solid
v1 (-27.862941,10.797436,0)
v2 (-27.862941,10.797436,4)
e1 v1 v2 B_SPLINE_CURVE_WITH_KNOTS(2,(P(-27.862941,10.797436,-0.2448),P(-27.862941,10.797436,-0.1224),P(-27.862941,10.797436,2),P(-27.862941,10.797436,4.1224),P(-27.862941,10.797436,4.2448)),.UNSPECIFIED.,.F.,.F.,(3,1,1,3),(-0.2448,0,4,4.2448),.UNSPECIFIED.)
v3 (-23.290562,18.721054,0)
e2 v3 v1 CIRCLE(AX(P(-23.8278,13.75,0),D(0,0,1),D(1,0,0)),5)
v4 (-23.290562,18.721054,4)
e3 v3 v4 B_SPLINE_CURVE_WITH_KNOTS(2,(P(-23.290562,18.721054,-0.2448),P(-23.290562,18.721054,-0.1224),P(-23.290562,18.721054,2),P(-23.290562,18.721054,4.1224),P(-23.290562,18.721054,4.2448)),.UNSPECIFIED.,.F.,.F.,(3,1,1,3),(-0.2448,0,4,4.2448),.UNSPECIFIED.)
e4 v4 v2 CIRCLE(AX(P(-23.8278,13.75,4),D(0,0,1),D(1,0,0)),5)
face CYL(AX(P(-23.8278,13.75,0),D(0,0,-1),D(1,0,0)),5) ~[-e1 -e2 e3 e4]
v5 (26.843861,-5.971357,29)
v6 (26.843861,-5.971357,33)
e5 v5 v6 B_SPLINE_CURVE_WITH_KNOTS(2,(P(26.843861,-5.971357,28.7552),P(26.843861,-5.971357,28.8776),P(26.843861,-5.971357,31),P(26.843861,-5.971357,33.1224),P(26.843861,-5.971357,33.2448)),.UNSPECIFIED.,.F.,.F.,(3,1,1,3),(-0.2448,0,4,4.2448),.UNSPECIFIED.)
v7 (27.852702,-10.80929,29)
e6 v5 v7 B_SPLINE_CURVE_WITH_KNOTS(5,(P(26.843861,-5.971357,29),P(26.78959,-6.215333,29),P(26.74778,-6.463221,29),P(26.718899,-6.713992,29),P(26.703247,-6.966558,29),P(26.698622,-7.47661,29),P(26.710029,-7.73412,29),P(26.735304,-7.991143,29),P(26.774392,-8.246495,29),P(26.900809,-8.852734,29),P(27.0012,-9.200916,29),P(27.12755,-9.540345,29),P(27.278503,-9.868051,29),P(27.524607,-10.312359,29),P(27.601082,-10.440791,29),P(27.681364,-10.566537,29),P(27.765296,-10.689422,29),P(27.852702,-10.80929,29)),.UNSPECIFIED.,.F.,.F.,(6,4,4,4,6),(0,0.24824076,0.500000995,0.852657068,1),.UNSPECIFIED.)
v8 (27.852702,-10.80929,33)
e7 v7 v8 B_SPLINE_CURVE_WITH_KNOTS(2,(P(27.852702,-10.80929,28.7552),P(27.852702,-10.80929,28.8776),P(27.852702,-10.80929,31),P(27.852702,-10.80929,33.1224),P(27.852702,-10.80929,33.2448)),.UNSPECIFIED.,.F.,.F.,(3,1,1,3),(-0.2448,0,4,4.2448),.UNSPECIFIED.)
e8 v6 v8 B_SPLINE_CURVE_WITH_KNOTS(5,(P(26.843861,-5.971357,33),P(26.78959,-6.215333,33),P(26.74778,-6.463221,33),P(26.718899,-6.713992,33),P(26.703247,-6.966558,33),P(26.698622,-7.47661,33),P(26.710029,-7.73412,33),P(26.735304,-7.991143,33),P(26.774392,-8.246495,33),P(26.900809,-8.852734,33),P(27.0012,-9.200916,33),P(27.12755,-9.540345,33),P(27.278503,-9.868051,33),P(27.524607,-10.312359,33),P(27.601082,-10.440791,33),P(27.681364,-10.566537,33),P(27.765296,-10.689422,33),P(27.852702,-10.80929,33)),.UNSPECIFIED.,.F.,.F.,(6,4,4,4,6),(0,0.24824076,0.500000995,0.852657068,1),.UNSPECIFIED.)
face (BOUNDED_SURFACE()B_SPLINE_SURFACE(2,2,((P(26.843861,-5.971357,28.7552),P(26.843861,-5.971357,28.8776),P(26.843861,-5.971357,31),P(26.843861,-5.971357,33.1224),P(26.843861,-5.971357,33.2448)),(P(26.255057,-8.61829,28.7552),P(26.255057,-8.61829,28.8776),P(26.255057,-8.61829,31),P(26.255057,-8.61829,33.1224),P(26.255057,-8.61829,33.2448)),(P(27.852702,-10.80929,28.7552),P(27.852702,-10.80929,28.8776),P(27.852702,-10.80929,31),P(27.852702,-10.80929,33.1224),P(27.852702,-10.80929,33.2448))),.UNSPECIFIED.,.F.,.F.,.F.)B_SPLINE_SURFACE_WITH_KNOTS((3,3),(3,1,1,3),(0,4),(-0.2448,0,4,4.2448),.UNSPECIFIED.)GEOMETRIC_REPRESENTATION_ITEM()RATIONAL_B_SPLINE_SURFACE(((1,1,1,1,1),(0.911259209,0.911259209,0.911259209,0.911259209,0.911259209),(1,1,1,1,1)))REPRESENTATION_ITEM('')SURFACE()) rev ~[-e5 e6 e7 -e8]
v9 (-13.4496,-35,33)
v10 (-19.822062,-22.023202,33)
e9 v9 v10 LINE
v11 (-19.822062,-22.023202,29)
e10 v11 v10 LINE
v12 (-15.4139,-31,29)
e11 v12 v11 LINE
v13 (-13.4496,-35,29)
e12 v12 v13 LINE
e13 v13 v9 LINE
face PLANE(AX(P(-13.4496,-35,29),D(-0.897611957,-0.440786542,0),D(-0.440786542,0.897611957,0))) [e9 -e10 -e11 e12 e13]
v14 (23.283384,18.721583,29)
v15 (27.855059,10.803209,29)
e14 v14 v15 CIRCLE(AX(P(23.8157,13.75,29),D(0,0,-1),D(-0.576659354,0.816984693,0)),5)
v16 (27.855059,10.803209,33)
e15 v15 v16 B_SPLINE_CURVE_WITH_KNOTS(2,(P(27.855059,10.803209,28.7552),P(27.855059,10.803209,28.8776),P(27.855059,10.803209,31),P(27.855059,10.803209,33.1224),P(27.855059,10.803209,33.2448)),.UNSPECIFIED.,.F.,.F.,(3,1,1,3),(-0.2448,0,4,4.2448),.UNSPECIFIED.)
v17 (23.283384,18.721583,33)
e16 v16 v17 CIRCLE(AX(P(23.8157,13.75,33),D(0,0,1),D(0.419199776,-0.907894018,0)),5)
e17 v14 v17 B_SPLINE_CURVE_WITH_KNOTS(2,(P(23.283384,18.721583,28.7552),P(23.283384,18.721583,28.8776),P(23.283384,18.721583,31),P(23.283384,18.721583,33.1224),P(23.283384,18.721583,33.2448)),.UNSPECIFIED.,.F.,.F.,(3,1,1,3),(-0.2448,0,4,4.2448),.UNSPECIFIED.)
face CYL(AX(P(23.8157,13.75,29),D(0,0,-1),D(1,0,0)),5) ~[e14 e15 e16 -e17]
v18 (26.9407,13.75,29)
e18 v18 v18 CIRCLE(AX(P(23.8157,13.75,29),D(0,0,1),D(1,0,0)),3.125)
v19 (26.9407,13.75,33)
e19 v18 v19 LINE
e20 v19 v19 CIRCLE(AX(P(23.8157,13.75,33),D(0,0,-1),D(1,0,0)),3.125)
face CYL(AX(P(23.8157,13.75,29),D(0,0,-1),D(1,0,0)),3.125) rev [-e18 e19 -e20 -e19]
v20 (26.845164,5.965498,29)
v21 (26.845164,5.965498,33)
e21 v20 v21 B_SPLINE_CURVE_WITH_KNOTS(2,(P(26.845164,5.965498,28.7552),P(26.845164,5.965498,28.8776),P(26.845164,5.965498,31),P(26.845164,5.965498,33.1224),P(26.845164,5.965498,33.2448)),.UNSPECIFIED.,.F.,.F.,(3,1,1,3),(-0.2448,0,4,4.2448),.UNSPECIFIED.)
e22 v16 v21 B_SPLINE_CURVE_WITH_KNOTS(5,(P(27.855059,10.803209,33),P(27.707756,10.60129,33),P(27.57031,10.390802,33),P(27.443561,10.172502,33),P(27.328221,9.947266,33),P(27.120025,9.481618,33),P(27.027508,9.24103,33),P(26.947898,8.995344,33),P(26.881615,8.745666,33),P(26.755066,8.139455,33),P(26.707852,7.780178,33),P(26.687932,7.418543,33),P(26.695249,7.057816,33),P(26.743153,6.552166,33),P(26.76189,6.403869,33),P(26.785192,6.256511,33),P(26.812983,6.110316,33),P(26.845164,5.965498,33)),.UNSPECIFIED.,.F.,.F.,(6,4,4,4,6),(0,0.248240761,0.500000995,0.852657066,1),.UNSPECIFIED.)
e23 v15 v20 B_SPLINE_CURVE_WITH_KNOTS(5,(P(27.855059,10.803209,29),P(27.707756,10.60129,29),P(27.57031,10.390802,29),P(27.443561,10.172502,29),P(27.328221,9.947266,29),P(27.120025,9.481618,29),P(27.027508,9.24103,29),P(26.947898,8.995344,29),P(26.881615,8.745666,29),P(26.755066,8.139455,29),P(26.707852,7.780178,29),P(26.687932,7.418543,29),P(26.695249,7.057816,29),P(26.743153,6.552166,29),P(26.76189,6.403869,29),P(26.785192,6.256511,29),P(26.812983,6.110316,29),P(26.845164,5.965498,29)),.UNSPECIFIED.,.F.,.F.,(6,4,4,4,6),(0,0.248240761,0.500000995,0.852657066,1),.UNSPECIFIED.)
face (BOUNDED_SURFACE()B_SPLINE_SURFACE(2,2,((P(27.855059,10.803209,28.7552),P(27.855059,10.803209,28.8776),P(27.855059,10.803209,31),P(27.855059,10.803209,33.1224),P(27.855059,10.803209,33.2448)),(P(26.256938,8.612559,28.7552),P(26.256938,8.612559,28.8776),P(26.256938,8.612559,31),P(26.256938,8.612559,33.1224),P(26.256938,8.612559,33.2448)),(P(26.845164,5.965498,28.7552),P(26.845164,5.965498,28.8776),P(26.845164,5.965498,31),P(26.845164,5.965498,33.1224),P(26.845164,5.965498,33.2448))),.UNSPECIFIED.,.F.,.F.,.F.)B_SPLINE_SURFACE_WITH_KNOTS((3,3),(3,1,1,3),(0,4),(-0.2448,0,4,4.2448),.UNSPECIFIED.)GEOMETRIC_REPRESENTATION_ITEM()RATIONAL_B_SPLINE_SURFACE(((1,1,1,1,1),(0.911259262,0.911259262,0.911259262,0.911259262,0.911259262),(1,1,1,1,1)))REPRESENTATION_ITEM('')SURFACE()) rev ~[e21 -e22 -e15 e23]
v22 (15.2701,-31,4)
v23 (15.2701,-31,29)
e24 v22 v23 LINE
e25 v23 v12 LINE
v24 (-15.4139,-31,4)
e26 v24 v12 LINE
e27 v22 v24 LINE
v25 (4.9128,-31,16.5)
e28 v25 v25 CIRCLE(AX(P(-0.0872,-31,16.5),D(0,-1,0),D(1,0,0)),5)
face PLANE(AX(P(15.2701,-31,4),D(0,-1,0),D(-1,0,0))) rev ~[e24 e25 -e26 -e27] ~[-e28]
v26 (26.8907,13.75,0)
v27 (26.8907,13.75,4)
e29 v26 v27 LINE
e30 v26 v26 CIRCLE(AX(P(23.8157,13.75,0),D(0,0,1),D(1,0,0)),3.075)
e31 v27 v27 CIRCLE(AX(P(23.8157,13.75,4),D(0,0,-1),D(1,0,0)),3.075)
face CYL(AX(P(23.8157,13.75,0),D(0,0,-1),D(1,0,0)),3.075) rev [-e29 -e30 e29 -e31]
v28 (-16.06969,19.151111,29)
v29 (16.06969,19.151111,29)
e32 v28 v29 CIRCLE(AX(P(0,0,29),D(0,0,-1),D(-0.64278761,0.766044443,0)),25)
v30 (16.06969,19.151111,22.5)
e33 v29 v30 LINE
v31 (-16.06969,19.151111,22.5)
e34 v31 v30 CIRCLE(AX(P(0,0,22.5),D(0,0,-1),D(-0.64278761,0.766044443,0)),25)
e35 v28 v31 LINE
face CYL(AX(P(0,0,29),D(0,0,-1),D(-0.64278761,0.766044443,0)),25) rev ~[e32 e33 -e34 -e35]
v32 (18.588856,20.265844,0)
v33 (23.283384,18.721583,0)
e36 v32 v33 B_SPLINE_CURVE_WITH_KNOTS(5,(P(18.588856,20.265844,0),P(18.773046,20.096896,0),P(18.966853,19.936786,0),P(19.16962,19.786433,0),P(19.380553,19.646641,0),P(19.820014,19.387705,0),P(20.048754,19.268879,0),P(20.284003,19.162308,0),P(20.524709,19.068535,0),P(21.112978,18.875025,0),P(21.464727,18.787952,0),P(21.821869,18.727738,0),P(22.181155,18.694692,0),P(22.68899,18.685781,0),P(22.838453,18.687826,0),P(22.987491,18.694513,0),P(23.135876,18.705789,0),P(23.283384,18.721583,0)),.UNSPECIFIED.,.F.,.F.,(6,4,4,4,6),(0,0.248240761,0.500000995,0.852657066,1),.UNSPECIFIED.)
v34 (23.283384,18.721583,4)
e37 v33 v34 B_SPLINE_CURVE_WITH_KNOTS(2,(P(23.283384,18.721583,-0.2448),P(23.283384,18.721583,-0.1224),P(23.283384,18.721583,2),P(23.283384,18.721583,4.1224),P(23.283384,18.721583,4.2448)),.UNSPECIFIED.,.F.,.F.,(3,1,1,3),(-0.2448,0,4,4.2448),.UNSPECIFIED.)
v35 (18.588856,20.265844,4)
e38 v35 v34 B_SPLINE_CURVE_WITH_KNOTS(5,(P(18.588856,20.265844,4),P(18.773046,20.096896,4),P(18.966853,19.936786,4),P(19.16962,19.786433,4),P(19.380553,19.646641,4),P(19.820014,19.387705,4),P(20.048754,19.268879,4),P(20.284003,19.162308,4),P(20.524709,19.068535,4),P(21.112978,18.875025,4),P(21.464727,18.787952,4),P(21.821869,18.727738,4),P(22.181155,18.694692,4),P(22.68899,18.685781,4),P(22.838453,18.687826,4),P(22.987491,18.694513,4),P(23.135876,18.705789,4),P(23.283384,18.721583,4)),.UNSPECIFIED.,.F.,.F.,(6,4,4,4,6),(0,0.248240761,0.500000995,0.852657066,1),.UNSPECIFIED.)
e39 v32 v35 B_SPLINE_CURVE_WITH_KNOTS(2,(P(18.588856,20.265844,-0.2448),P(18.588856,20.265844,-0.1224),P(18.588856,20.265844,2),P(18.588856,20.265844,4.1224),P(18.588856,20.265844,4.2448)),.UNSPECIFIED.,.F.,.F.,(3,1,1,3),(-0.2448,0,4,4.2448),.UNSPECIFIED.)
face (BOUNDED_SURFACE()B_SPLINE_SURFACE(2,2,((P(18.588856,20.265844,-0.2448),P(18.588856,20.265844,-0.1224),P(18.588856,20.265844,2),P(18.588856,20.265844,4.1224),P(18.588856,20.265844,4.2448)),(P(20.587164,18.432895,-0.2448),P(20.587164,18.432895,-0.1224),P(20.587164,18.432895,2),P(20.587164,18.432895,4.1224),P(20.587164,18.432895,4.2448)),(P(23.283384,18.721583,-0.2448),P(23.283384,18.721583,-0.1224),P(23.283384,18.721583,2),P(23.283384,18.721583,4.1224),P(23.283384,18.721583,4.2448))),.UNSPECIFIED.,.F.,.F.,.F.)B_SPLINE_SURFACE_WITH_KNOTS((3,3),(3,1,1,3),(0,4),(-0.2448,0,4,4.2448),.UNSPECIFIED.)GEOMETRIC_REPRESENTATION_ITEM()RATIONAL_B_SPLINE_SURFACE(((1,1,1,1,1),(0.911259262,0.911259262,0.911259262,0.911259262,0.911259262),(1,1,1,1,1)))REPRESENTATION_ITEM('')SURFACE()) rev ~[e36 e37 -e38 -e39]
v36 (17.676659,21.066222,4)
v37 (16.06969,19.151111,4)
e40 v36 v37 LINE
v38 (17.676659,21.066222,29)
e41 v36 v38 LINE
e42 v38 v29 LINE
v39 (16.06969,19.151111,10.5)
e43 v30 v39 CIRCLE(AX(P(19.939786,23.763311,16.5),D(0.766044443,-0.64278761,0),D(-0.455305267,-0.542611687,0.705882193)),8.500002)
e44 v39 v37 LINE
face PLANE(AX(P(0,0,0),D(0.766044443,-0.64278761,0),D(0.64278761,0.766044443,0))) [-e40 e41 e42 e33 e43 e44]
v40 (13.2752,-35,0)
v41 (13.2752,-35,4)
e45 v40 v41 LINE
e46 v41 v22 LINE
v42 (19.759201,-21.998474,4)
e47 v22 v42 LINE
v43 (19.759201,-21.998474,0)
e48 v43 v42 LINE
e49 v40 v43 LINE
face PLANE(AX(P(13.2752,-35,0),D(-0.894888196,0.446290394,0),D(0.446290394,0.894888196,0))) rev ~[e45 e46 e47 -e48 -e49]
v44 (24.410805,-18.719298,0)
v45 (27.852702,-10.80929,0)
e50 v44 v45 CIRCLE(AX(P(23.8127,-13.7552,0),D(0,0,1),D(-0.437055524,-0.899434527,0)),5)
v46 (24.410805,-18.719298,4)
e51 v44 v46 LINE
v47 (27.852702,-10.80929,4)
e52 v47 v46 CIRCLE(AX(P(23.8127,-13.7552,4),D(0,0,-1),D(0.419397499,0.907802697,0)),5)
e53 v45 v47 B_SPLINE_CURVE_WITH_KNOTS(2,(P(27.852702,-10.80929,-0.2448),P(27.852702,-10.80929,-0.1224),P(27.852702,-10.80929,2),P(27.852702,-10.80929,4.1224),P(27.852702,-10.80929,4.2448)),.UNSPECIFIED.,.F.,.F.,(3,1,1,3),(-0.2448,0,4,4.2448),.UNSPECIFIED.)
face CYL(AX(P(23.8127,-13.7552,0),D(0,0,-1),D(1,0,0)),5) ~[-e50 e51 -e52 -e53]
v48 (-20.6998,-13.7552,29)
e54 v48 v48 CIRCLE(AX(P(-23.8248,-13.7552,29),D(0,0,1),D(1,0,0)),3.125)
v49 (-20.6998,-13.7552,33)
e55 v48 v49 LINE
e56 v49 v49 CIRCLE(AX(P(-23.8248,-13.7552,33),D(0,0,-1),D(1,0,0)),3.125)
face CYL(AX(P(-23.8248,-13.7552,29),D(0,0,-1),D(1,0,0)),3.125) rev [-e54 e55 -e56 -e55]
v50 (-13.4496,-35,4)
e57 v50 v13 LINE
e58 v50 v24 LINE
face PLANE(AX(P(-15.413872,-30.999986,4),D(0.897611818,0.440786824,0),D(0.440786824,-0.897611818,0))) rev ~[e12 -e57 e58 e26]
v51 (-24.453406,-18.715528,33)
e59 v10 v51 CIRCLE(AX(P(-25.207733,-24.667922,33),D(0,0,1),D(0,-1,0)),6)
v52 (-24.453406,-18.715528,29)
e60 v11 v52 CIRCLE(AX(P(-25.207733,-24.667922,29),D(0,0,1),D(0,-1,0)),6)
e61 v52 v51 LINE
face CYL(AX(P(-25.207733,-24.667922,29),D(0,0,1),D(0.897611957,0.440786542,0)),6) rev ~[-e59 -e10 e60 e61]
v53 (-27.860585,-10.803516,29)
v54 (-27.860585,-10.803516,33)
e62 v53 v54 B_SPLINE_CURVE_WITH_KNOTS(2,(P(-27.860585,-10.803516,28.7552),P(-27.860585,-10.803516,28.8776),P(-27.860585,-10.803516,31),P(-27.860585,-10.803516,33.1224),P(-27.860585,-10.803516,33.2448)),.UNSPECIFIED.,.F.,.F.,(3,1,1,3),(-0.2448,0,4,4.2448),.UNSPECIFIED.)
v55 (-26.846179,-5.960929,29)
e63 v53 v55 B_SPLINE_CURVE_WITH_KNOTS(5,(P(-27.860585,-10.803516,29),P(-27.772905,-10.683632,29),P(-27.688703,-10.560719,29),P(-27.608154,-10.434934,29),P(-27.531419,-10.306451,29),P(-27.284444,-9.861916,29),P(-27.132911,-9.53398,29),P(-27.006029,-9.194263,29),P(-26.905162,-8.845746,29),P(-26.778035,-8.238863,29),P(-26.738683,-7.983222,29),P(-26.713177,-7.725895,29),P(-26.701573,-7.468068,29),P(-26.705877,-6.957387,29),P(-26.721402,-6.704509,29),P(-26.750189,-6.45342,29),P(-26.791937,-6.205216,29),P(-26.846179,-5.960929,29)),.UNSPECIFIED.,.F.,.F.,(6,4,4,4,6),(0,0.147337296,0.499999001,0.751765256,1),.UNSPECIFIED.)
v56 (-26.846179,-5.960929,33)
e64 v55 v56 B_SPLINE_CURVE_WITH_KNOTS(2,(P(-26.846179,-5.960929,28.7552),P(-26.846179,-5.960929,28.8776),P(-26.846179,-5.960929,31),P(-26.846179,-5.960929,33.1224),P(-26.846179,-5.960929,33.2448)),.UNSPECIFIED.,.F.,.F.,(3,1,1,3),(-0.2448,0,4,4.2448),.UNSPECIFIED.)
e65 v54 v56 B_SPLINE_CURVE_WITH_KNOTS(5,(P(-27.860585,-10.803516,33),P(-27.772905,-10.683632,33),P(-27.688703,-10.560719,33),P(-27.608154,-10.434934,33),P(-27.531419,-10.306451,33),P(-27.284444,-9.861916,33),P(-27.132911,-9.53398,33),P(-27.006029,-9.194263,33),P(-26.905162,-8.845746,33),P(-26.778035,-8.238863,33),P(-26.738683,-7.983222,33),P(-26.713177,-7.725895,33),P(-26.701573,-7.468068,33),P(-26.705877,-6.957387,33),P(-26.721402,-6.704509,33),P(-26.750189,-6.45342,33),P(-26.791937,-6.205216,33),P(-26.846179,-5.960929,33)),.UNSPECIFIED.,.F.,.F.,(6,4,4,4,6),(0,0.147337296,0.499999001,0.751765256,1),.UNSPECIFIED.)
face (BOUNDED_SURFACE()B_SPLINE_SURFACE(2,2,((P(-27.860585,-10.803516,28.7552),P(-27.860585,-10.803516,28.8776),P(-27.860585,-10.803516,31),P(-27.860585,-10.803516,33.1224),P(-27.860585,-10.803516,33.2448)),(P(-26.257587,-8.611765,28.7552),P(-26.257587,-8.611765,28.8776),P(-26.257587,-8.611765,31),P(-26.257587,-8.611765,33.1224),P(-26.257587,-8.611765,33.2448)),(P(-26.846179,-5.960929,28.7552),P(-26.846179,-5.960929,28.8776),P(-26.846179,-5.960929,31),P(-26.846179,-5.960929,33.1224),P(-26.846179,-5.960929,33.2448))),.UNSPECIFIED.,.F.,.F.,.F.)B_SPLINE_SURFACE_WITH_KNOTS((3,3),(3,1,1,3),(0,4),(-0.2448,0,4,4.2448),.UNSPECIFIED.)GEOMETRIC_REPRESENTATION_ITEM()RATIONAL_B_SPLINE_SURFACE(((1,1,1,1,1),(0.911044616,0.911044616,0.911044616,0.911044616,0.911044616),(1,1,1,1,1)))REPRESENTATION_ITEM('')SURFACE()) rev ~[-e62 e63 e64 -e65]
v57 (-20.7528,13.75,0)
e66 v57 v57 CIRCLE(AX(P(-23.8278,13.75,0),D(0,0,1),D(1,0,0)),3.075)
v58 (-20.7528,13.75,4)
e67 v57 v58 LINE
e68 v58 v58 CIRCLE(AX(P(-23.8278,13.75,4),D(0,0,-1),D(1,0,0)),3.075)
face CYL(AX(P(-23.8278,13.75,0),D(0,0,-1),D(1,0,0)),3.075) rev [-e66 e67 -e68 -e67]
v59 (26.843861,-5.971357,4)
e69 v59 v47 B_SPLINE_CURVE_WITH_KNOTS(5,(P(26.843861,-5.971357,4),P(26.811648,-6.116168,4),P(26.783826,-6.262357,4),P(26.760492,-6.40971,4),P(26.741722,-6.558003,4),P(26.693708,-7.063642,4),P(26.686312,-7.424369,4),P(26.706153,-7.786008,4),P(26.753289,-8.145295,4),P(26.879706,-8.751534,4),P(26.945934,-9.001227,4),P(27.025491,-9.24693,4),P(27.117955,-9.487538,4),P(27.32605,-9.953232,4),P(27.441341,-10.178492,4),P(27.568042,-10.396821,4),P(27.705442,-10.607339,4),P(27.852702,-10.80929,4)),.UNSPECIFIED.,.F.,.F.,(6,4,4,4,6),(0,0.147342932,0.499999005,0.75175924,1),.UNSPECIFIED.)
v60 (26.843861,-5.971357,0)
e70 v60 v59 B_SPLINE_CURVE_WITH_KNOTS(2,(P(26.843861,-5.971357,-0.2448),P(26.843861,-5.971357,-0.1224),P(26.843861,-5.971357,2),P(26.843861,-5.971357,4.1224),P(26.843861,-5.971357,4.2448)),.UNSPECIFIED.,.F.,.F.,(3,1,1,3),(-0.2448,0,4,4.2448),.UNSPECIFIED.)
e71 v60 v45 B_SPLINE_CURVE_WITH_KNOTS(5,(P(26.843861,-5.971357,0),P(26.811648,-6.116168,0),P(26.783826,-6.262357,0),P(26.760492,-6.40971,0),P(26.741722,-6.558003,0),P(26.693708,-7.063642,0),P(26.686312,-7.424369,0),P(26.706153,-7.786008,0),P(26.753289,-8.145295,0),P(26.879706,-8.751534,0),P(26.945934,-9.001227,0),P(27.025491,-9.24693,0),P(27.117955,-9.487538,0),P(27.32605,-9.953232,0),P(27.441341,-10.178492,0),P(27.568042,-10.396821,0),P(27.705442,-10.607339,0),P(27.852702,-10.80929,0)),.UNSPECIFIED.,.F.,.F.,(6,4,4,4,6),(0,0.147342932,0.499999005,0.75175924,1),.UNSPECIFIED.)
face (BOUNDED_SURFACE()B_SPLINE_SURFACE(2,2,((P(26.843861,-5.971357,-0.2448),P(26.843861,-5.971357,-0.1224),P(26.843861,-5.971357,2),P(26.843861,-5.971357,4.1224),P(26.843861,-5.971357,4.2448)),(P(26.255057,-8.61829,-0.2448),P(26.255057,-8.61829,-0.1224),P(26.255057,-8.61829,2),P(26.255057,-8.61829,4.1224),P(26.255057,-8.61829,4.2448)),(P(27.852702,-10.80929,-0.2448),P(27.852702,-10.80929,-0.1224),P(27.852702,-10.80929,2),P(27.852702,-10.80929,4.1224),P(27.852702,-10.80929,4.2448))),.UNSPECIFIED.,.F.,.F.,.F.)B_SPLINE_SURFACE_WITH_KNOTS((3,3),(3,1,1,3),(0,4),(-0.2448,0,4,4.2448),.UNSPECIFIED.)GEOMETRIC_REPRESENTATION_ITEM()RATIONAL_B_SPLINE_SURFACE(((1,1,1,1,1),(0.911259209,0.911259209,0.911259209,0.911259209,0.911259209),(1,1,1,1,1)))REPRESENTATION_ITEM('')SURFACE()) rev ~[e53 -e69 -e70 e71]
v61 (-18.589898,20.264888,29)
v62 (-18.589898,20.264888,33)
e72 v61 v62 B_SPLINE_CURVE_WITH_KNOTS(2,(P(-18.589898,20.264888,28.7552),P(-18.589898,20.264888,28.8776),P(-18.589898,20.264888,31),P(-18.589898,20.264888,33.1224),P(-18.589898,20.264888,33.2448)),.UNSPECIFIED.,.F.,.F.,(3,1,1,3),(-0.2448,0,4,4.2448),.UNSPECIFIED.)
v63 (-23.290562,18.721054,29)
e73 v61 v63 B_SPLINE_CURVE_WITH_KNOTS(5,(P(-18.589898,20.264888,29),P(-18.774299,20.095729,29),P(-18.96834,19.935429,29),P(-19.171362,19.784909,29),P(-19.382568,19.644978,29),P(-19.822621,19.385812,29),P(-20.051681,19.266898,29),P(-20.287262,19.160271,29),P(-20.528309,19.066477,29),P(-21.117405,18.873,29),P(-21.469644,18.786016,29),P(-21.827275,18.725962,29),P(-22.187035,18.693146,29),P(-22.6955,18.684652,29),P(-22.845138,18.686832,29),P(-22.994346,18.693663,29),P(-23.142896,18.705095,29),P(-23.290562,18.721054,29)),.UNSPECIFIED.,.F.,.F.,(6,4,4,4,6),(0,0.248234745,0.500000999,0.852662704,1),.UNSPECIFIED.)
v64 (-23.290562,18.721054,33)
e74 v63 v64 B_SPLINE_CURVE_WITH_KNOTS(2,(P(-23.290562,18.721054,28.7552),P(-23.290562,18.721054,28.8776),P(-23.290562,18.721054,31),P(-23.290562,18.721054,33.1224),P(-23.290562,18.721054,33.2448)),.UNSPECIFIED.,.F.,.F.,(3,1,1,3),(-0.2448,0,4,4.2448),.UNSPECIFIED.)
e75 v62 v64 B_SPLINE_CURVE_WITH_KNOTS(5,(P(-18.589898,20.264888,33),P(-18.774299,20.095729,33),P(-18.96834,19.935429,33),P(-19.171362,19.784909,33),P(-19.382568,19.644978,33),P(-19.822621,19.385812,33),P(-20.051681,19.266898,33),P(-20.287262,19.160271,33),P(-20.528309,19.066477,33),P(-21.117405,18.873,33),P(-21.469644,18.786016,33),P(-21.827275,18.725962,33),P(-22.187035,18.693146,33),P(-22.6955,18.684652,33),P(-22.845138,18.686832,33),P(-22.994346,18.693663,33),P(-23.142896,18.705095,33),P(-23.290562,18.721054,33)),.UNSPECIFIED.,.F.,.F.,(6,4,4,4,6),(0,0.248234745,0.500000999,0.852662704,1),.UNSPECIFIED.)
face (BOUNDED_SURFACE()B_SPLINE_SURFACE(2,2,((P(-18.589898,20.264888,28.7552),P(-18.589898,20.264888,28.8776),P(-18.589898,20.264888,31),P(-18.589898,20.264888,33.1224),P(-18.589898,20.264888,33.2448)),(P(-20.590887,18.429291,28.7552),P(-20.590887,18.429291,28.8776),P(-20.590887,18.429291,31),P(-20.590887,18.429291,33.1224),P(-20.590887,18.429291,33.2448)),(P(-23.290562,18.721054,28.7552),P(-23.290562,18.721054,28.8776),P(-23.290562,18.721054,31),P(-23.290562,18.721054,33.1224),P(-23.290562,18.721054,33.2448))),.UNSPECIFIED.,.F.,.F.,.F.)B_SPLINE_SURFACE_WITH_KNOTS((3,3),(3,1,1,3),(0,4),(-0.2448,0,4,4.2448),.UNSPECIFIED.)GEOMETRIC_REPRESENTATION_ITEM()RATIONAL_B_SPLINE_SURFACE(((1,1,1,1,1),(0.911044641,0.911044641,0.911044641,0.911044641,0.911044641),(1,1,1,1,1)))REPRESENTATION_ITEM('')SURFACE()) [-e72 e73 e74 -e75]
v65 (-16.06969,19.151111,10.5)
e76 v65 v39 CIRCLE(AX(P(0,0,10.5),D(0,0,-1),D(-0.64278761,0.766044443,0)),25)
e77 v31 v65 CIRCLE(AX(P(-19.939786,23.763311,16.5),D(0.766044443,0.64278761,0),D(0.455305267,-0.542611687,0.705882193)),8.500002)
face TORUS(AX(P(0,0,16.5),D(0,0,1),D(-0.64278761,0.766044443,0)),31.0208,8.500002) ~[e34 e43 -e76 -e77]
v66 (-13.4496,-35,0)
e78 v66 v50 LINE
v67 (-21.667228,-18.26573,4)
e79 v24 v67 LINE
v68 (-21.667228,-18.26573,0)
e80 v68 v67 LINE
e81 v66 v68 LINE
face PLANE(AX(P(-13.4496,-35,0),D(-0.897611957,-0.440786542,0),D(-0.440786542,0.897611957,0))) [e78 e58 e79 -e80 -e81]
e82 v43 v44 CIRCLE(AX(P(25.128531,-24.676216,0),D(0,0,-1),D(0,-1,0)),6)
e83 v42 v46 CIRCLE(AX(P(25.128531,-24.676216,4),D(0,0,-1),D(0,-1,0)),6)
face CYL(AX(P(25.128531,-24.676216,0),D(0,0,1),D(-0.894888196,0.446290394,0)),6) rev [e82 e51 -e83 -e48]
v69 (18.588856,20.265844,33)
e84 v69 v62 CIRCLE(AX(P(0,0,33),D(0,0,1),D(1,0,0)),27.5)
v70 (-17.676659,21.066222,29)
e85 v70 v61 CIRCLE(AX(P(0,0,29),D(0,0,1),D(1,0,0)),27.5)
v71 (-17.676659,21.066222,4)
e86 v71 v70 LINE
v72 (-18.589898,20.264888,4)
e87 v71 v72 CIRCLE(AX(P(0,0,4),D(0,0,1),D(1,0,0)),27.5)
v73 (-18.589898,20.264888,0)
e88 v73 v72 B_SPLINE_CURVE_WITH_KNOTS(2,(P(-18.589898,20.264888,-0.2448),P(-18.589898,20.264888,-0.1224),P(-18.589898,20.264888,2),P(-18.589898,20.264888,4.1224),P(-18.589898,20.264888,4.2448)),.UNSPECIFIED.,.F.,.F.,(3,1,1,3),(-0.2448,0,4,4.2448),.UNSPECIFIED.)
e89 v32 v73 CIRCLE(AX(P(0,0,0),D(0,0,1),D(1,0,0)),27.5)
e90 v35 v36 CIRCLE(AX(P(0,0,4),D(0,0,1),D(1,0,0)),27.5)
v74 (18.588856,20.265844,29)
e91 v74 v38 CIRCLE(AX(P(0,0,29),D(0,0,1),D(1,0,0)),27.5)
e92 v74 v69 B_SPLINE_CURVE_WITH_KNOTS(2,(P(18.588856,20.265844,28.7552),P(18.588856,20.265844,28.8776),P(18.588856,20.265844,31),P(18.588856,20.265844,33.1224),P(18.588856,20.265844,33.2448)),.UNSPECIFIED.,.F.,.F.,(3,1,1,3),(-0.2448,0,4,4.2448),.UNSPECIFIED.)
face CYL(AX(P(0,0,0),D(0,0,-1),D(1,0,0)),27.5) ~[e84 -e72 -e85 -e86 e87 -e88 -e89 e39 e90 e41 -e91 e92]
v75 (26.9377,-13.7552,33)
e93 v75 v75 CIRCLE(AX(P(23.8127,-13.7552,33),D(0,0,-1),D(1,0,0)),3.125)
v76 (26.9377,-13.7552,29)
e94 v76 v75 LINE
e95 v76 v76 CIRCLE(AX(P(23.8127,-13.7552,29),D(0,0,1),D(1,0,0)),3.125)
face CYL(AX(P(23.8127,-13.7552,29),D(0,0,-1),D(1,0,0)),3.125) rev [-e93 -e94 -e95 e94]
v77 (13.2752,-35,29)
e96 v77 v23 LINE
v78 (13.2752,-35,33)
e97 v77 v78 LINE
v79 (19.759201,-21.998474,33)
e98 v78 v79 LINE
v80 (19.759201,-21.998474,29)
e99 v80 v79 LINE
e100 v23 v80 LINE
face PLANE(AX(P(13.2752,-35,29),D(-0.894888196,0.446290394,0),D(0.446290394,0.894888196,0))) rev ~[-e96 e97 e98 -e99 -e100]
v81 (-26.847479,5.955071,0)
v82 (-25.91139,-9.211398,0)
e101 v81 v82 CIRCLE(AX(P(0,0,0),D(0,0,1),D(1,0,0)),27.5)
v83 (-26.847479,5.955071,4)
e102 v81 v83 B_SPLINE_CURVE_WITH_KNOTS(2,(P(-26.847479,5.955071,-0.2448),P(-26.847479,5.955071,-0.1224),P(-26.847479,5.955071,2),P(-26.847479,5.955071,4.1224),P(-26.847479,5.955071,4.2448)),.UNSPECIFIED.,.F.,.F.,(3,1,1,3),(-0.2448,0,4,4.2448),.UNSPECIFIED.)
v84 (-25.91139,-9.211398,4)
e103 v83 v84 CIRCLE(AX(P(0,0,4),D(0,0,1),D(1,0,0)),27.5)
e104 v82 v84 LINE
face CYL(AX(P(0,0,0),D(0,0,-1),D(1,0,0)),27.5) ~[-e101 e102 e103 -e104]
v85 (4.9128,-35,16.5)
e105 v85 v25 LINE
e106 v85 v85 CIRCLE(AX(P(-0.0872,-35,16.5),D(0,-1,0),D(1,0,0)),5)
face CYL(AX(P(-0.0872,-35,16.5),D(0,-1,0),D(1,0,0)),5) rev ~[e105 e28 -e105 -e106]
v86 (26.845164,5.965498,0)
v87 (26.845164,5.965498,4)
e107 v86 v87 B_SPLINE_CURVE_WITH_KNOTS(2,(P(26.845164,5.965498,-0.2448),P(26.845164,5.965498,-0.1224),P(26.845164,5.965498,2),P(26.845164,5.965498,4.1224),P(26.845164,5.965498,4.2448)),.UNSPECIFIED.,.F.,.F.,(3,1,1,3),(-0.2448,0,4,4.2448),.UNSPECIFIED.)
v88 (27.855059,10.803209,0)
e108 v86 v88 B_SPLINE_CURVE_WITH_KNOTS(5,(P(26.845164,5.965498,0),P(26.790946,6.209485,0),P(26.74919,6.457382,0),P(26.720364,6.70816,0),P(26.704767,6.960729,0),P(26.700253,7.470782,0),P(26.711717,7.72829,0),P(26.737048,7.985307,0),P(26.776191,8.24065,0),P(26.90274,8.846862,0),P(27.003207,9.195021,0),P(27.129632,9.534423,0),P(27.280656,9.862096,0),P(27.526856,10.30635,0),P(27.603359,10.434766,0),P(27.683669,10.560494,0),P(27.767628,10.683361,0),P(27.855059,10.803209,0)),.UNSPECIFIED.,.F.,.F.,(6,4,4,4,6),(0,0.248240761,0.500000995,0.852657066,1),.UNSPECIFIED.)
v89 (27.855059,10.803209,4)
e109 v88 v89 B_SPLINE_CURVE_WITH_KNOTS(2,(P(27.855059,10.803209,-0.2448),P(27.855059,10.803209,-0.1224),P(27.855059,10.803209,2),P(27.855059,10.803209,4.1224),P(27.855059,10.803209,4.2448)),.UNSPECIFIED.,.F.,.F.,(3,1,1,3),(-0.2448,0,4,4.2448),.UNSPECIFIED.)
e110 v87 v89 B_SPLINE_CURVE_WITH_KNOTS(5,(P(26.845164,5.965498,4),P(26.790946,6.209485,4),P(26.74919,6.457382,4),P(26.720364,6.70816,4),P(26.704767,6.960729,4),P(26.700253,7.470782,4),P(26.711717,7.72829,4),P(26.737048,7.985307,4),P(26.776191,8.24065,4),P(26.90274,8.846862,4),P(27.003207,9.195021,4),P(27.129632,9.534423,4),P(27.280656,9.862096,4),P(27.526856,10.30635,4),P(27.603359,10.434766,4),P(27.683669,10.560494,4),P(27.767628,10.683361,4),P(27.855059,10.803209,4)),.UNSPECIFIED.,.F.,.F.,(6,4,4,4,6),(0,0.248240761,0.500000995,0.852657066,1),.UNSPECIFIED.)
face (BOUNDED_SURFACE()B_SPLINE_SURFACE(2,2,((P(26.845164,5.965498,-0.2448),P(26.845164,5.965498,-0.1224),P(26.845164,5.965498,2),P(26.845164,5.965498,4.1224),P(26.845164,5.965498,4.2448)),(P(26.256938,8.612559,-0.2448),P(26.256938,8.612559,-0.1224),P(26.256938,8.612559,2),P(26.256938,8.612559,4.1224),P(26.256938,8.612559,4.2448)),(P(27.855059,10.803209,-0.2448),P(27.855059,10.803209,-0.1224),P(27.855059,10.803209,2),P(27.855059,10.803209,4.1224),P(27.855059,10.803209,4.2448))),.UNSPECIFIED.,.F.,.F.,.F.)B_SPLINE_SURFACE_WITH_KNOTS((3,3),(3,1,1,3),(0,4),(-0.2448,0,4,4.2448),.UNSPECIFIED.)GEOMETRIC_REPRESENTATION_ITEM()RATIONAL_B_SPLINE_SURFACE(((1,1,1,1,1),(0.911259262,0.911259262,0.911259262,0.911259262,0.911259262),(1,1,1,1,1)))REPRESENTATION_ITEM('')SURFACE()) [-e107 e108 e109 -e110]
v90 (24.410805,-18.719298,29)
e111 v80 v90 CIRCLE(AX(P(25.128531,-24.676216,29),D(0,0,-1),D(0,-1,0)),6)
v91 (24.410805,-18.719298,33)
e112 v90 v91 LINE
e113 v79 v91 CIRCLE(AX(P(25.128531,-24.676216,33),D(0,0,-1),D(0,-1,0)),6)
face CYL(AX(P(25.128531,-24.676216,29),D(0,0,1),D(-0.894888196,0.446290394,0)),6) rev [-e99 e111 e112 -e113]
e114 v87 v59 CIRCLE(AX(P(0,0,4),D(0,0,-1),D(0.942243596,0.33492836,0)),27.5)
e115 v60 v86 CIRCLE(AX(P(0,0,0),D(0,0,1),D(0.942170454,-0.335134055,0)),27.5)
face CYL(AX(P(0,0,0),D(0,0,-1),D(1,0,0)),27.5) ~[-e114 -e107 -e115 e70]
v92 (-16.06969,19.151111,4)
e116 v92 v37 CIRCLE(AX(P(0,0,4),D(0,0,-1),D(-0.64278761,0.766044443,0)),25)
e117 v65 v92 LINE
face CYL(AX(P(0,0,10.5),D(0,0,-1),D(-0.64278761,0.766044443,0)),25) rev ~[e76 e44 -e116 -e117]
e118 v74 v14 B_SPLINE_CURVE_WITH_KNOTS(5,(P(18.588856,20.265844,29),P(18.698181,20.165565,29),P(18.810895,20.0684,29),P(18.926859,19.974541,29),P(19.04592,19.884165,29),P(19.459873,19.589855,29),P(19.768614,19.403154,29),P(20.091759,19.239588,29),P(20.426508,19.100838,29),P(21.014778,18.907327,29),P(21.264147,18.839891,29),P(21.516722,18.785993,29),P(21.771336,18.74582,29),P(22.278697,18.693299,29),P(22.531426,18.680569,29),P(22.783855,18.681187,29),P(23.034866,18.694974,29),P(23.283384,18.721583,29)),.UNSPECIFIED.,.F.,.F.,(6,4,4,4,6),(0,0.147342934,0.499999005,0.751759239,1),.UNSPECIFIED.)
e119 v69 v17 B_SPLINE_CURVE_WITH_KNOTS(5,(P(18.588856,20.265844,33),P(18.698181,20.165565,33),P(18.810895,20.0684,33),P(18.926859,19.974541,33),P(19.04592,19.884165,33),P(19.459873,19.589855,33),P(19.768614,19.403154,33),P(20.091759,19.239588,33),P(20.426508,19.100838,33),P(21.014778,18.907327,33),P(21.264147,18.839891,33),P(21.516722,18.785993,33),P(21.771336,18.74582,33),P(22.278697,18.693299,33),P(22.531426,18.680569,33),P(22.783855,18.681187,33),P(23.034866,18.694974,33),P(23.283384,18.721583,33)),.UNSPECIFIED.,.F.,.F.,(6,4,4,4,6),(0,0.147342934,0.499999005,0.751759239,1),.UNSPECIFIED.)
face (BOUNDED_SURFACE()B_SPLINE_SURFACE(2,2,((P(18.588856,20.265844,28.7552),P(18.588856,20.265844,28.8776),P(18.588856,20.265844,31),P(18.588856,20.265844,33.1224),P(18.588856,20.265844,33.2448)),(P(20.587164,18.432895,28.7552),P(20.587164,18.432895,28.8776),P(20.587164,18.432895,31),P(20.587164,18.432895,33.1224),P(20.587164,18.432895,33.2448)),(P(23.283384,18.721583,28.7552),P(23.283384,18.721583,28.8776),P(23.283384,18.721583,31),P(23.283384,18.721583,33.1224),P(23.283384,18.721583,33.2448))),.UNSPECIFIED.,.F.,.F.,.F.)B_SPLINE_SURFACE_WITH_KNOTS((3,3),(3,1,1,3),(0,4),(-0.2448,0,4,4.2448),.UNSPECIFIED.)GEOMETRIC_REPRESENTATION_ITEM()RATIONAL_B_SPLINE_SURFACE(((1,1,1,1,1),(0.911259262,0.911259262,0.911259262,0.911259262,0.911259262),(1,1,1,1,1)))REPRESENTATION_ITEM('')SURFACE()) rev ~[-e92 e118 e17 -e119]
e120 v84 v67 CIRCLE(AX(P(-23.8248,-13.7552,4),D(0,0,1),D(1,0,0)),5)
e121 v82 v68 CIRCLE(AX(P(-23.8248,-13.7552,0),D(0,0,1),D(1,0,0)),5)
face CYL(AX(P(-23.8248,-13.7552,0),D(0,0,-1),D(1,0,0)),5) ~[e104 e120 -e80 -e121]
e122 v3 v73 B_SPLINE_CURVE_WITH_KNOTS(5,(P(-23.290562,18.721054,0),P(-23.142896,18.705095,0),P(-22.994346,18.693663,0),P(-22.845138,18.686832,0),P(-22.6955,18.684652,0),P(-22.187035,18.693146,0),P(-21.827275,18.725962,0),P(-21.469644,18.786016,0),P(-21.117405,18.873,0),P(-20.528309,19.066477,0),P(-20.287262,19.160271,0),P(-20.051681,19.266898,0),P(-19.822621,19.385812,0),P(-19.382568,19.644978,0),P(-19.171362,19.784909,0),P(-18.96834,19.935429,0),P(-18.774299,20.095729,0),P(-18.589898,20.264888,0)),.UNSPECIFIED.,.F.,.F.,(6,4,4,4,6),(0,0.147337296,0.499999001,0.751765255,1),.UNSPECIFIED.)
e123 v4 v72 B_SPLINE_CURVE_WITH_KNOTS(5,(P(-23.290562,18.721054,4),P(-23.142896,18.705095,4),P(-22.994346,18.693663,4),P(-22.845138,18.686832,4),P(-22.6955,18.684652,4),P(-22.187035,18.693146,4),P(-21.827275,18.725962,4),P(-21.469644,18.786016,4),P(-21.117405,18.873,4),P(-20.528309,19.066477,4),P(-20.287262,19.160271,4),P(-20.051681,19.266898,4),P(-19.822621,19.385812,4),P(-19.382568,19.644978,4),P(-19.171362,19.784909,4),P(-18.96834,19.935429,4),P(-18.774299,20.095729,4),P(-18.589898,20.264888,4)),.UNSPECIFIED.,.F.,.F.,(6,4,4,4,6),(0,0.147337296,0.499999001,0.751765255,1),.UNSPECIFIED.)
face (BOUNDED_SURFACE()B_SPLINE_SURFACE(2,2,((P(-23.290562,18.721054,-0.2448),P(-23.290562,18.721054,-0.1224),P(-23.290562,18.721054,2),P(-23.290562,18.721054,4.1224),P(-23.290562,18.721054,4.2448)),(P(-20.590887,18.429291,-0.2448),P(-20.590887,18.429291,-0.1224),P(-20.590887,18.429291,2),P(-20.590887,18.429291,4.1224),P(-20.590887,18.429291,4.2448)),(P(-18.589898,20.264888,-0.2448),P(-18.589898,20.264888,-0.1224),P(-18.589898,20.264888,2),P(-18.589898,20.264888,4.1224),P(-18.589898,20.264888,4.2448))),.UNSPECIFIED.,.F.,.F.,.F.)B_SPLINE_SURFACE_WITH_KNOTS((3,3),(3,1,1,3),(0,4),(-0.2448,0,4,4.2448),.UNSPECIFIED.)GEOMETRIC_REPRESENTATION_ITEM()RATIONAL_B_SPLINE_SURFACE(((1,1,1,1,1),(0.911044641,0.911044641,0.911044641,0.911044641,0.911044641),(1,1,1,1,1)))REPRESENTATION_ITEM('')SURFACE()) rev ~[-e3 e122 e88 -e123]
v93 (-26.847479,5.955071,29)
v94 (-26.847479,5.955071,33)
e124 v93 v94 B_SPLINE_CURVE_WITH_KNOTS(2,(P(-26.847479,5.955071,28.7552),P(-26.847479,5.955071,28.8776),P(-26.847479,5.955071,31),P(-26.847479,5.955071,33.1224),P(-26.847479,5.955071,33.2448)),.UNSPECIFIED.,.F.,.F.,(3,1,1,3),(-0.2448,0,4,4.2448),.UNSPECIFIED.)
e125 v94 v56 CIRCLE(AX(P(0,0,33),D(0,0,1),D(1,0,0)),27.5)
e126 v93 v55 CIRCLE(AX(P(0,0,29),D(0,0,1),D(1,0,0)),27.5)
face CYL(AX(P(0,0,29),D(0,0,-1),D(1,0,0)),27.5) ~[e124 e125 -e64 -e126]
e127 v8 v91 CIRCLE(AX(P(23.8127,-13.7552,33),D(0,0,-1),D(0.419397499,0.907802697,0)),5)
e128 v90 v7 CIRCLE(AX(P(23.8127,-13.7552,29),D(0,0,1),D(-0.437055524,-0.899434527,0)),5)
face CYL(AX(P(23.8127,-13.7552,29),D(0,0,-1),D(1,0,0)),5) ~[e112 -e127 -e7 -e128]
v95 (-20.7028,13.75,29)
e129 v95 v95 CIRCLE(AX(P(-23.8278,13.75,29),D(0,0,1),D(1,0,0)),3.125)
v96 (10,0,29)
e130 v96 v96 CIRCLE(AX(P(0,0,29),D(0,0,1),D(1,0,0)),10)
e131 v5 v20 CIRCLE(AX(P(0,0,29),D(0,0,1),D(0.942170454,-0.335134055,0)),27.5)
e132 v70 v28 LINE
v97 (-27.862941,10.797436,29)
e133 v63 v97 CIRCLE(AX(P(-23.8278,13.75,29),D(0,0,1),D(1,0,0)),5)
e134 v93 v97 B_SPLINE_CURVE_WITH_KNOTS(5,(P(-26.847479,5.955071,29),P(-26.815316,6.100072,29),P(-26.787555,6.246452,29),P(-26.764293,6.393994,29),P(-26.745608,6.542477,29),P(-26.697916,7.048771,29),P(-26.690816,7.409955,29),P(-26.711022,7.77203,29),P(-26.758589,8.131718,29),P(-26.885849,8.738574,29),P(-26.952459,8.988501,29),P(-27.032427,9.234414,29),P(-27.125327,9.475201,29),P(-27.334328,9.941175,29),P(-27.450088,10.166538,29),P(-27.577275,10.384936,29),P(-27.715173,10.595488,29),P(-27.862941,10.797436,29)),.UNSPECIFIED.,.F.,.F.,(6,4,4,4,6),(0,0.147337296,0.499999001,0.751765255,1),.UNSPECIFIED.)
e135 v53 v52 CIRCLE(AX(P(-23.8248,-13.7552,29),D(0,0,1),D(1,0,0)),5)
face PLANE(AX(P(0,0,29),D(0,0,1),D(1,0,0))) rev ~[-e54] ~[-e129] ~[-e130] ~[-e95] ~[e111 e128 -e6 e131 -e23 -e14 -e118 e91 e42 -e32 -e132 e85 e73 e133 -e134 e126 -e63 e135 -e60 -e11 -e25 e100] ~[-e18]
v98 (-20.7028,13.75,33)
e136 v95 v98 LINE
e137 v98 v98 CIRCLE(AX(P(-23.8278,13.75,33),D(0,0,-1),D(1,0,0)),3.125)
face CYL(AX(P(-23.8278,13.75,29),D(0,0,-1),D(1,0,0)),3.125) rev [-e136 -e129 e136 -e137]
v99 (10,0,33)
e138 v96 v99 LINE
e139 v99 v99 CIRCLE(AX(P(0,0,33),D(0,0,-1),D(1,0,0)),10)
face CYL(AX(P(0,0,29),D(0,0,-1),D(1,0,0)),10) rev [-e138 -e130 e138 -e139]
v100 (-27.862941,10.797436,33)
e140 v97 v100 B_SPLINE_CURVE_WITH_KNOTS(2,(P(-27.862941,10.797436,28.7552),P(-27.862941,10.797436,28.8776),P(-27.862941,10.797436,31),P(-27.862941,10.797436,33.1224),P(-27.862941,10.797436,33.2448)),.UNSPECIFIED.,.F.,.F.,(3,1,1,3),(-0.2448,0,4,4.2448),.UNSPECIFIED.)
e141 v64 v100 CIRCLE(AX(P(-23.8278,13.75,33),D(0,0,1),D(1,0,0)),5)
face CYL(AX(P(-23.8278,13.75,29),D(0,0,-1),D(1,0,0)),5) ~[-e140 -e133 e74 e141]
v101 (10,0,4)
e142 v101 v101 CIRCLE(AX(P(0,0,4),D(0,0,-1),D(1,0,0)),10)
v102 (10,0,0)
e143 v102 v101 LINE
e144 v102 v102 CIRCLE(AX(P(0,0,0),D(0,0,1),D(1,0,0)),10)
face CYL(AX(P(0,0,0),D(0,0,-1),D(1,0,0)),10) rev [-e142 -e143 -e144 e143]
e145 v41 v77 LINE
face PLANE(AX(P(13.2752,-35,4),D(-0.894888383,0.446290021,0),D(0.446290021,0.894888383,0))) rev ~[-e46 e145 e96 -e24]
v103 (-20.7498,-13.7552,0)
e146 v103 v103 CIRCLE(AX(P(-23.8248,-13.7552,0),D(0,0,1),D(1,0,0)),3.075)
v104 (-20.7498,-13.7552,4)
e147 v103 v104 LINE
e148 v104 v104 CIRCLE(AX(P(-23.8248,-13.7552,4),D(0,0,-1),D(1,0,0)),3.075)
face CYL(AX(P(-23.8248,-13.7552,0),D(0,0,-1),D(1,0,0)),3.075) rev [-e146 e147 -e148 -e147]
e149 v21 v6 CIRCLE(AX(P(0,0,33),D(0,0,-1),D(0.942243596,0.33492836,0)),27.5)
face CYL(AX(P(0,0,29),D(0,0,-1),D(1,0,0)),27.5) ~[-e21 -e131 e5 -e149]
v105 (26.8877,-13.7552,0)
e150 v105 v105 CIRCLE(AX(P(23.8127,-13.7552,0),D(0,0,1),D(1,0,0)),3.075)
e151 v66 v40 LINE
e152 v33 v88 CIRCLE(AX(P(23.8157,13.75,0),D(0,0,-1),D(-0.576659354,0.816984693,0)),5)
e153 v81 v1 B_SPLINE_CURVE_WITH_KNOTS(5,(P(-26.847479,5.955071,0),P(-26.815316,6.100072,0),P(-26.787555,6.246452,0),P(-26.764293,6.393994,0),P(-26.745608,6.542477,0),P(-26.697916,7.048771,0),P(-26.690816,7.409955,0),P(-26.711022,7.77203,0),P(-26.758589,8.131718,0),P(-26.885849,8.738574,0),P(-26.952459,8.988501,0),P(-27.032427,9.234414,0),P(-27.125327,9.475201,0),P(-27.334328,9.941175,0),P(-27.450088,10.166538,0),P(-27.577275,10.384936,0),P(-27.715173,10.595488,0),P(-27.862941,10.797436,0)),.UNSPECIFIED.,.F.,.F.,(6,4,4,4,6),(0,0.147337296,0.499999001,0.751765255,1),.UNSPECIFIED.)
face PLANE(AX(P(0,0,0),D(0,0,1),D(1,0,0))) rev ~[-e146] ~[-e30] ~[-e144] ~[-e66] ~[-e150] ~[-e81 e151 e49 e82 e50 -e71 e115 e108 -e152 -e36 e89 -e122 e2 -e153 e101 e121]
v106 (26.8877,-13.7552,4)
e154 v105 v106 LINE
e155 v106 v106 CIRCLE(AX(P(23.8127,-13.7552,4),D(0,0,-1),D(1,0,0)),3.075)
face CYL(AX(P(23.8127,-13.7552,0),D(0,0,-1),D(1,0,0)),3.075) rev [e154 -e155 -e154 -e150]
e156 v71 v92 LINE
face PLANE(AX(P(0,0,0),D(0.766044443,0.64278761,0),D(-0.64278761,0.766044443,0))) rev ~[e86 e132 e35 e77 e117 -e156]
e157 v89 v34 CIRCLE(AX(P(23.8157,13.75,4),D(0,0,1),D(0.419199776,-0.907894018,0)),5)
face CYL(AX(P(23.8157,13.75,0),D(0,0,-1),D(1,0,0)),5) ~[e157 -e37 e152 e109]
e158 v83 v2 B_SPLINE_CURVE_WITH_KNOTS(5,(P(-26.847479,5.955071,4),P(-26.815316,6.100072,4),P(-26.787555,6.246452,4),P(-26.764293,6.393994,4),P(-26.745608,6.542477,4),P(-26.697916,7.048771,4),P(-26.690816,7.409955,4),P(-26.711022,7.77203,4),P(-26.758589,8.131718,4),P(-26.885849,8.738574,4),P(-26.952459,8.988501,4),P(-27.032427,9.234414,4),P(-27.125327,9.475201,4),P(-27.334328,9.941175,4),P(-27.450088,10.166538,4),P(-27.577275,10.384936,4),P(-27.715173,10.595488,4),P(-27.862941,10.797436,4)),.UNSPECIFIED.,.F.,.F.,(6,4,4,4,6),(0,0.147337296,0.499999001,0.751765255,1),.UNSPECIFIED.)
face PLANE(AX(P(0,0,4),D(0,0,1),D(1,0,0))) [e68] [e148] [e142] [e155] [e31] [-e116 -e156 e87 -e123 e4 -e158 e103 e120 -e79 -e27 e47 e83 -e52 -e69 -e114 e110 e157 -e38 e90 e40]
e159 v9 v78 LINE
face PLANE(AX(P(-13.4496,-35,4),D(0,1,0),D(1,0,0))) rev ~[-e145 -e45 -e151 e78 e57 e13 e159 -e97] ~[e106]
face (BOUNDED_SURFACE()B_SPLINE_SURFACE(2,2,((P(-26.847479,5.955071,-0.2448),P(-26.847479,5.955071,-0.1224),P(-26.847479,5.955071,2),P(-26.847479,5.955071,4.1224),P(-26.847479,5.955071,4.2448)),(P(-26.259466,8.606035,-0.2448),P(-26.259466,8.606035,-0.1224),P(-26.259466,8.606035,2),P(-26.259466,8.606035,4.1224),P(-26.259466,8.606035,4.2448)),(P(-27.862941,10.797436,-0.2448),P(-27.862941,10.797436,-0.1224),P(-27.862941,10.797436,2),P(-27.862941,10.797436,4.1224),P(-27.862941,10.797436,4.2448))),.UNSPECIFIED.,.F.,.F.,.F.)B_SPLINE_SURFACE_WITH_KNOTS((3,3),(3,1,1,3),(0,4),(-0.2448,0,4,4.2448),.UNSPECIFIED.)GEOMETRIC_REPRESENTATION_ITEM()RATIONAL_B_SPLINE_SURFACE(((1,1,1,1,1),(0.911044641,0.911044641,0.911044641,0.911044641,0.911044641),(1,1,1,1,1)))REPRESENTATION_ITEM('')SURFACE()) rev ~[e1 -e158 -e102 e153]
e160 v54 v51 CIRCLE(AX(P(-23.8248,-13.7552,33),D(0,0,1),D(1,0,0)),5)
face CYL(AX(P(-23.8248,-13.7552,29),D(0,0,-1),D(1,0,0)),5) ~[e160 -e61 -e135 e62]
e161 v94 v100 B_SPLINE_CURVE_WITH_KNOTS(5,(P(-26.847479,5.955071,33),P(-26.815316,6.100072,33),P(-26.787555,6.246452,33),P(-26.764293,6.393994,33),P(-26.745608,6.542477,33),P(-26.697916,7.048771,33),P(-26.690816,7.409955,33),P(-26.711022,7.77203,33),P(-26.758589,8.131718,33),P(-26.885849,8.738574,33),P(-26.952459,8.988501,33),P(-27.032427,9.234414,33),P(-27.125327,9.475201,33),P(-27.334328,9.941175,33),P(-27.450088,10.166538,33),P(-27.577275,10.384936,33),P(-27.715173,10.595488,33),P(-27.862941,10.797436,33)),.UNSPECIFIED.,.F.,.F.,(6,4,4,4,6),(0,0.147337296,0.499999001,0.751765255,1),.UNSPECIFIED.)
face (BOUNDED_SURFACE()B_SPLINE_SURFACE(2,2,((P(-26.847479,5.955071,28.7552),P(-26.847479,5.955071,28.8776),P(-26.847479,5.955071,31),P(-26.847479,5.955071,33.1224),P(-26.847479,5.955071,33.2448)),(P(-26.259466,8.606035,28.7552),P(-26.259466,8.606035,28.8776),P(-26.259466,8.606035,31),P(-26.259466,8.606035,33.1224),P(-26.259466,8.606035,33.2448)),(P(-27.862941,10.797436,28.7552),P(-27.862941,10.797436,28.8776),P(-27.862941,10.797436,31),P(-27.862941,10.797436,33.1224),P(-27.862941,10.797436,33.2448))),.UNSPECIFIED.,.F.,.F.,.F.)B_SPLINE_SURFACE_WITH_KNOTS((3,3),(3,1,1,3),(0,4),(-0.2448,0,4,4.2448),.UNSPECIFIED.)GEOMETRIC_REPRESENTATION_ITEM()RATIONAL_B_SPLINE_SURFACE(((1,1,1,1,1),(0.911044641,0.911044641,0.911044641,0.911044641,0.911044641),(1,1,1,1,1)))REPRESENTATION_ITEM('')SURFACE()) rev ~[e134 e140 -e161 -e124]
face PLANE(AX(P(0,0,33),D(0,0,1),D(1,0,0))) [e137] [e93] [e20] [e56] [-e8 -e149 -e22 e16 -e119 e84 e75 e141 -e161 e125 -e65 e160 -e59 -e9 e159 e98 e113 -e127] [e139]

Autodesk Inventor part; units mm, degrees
ref_plane "YZ Plane" through (0, 0, 0) normal (1, 0, 0) x (0, 1, 0)
ref_plane "XZ Plane" through (0, 0, 0) normal (0, 1, 0) x (-1, 0, 0)
ref_plane "XY Plane" through (0, 0, 0) normal (0, 0, 1) x (1, 0, 0)
sketch "Sketch1" plane through (0, 0, 0) normal (0, 0, 1) x (1, 0, 0)
  line L0 (-13.5571, -30) -> (11.7429, -30) construction
  line L1 (11.7429, -30) -> (11.7429, -13.7014) construction
  line L2 (11.7429, -13.7014) -> (-13.5571, -13.7014) construction
  line L3 (-13.5571, -13.7014) -> (-13.5571, -30) construction
  circle A0 centre (0, 0) radius 10
  circle A1 centre (0, 0) radius 23.5 construction
  line L4 (11.7429, -30) -> (21.2173, -10.1032) construction
  line L5 (-13.5571, -30) -> (-21.9053, -8.5093) construction
  circle A2 centre (0, 0) radius 27.5
  line L6 (-13.4496, -35) -> (13.2752, -35)
  line L7 (-13.4496, -35) -> (-24.6844, -12.1216)
  line L8 (13.2752, -35) -> (24.6094, -12.273)
  circle A3 centre (23.8157, 13.75) radius 5
  line L9 (-0.006, -0.0035) -> (23.8157, 13.75) construction
  line L10 (-0.006, -0.0035) -> (30.724, -0.0035) construction
  line L11 (-0.006, -0.0035) -> (23.8127, -13.7552) construction
  circle A4 centre (23.8127, -13.7552) radius 5
  circle A5 centre (23.8157, 13.75) radius 3.075
  circle A6 centre (23.8127, -13.7552) radius 3.075
  line L12 (-0.006, -0.0035) -> (-0.006, 21.9972)
  circle A7 centre (-23.8278, 13.75) radius 5
  circle A8 centre (-23.8248, -13.7552) radius 5
  circle A9 centre (-23.8278, 13.75) radius 3.075
  circle A10 centre (-23.8248, -13.7552) radius 3.075
  point P0 (20.9324, 17.8349)
  point P1 (-20.9369, 17.8296)
  point P2 (-25.9134, 9.2058)
  point P3 (-25.9114, -9.2114)
  point P4 (-21.6672, -18.2658)
  point P5 (21.6274, -18.2524)
  point P6 (25.9097, -9.2162)
  point P7 (25.9117, 9.2105)
  dimension "d0" = 25.3
  dimension "d1" = 20
  dimension "d2" = 30
  dimension "d3" = 47
  dimension "d4" = 55
  dimension "d5" = 5
  dimension "d45" = 30
  dimension "d46" = 10
  dimension "d47" = 30
  dimension "d48" = 10
  dimension "d49" = 6.15
  dimension "d50" = 6.15
  dimension "d64" = 6.15
extrude "Extrusion1" add sketch "Sketch1" along normal blind 4 contours A2 A4 A8 A7 A3 | A3 A2 A5 | A2 A5 A3 | A4 L8 A6 A2 | A2 A6 A4 | A4 L8 L6 L7 A8 A2 | A2 A6 L8 A4 | A7 A2 A9 | A2 A9 A7 | A8 L7 A10 A2 | A2 A10 A8 | A8 A2 A10 L7
sketch "Sketch2" plane through (0, 0, 4) normal (0, 0, 1) x (1, 0, 0)
  line L0 (-21.6672, -18.2658) -> (-13.4496, -35) projected
  line L1 (-13.4496, -35) -> (-15.4139, -31)
  line L2 (15.2701, -31) -> (-15.4139, -31)
  line L3 (13.2752, -35) -> (21.6274, -18.2524) projected
  line L4 (15.2701, -31) -> (13.2752, -35)
  line L5 (-13.4496, -35) -> (13.2752, -35) projected
  line L6 (-13.4496, -35) -> (13.2752, -35)
  point P0 (0, 0)
  point P1 (-24.6844, -12.1216)
  point P2 (24.6094, -12.273)
  dimension "d8" = 4
extrude "Extrusion2" add sketch "Sketch2" along normal blind 25
sketch "Sketch3" plane through (0, 0, 29) normal (0, 0, 1) x (1, 0, 0)
  line L0 (-13.5571, -30) -> (11.7429, -30) construction
  line L1 (11.7429, -30) -> (11.7429, -13.7014) construction
  line L2 (11.7429, -13.7014) -> (-13.5571, -13.7014) construction
  line L3 (-13.5571, -13.7014) -> (-13.5571, -30) construction
  circle A0 centre (0, 0) radius 10
  circle A1 centre (0, 0) radius 23.5 construction
  line L4 (11.7429, -30) -> (21.2173, -10.1032) construction
  line L5 (-13.5571, -30) -> (-21.9053, -8.5093) construction
  circle A2 centre (0, 0) radius 27.5
  line L6 (-13.4496, -35) -> (13.2752, -35)
  line L7 (-13.4496, -35) -> (-24.6844, -12.1216)
  line L8 (13.2752, -35) -> (24.6094, -12.273)
  circle A3 centre (23.8157, 13.75) radius 5
  line L9 (-0.006, -0.0035) -> (23.8157, 13.75) construction
  line L10 (-0.006, -0.0035) -> (30.724, -0.0035) construction
  line L11 (-0.006, -0.0035) -> (23.8127, -13.7552) construction
  circle A4 centre (23.8127, -13.7552) radius 5
  circle A5 centre (23.8157, 13.75) radius 3.125
  circle A6 centre (23.8127, -13.7552) radius 3.125
  line L12 (-0.006, -0.0035) -> (-0.006, 21.9972)
  circle A7 centre (-23.8278, 13.75) radius 5
  circle A8 centre (-23.8278, 13.75) radius 3.125
  circle A9 centre (-23.8248, -13.7552) radius 5
  circle A10 centre (-23.8248, -13.7552) radius 3.125
  circle A11 centre (0, 0) radius 10 projected
  point P0 (-42.8581, 50.0798)
  point P1 (-84.7274, 50.0745)
  point P2 (-89.7039, 41.4507)
  point P3 (-89.7018, 23.0335)
  point P4 (-85.4577, 13.9792)
  point P5 (-42.163, 13.9925)
  point P6 (-37.8808, 23.0287)
  point P7 (-37.8788, 41.4554)
  point P8 (20.9324, 17.8349)
  point P9 (-20.9369, 17.8296)
  point P10 (-25.9134, 9.2058)
  point P11 (-25.9114, -9.2114)
  point P12 (-21.6672, -18.2658)
  point P13 (21.6274, -18.2524)
  point P14 (20.9285, -17.8395)
  point P15 (22.0984, -16.368)
  point P16 (25.2195, -10.9648)
  point P17 (25.9117, 9.2105)
  point P18 (25.9097, -9.2162)
  dimension "d51" = 25.3
  dimension "d52" = 20
  dimension "d53" = 30
  dimension "d54" = 47
  dimension "d55" = 55
  dimension "d56" = 5
  dimension "d57" = 30
  dimension "d58" = 10
  dimension "d59" = 30
  dimension "d60" = 10
  dimension "d61" = 6.25
  dimension "d62" = 6.25
extrude "Extrusion3" add sketch "Sketch3" along normal blind 4 contours A2 A4 A9 A7 A3 | A3 A2 A5 | A2 A5 A3 | A4 L8 A6 A2 | A2 A6 A4 | A4 L8 L6 L7 A9 A2 | A2 A6 L8 A4 | A7 A2 A8 | A2 A8 A7 | A9 L7 A10 A2 | A2 A10 A9 | A9 A2 A10 L7
sketch "Sketch4" plane through (0, 0, 0) normal (1, 0, 0) x (0, 1, 0)
  line L0 (-31, 4) -> (-31, 29) projected
  line L1 (16.3793, 67.7391) -> (20.3793, 67.7391) construction
  line L2 (20.3793, 44.4757) -> (20.3793, 67.7391) construction
  line L3 (20.3793, 44.4757) -> (16.3793, 44.4757) construction
  line L4 (0, 24) -> (0, 4)
  line L5 (16.3793, 44.4757) -> (16.3793, 48.4757) construction
  line L6 (16.3793, 67.7391) -> (16.3793, 63.7391) construction
  arc A0 (16.3793, 63.7391) -> (16.3793, 48.4757) centre (22.0199, 56.1074) ccw construction
  line L7 (27.5, 4) -> (17.8296, 4) projected
  line L8 (27.5, 29) -> (27.5, 33)
  line L9 (27.5, 29) -> (-12.273, 29)
  line L10 (27.5, 29) -> (25, 29)
  line L11 (25, 29) -> (25, 22.5)
  arc A1 (25, 22.5) -> (25, 10.5) centre (31.0208, 16.5) ccw
  line L12 (25, 10.5) -> (25, 4)
  line L13 (27.5, 4) -> (25, 4)
  line L14 (25, 29) -> (27.5, 29)
  line L15 (27.5, 4) -> (27.5, 29)
  line L16 (27.5, 4) -> (17.8296, 4) projected
  line L17 (27.5, 4) -> (25, 4)
  point P0 (0, 0)
  point P1 (-12.1216, 29)
  point P2 (-12.1216, 4)
  point P3 (-12.273, 29)
  point P4 (25, 7.25)
  point P5 (17.8349, 4)
  point P6 (9.2058, 4)
  point P7 (-9.2114, 4)
  dimension "d22" = 4
  dimension "d23" = 4
  dimension "d24" = 4
  dimension "d26" = 6.5
  dimension "d28" = 6.5
  dimension "d65" = 2.5
  dimension "d66" = 2.5
revolve "Revolution1" add sketch "Sketch4" angle 80 mid plane about axis through (0, 0, 24) along (0, 0, -1)
sketch "Sketch5" plane through (0, 0, 0) normal (0, 1, 0) x (-1, 0, 0)
  line L0 (0, 0) -> (0.0872, 33)
sketch "Sketch7" plane through (0, 0, 0) normal (1, 0, 0) x (0, 1, 0)
  line L0 (29.2747, 11.9493) -> (29.2747, 21.0264) construction
  ellipse E0 centre (23.7633, 16.5) end of major axis (23.7633, 8) minor radius 6.5114 (19.1511, 22.5) -> (19.1511, 10.5) ccw projected
  line L1 (29.2747, 16.4878) -> (30.2747, 16.4878)
  arc A0 (29.2747, 11.9493) -> (29.2747, 21.0264) centre (45.8325, 16.4878) ccw
  arc A1 (30.2415, 15.6424) -> (30.2747, 16.4878) centre (23.4449, 16.3328) ccw
  line L2 (29.2747, 21.0264) -> (27.6139, 21.0264)
  line L3 (27.6139, 21.0264) -> (27.6139, 13.9093)
  line L4 (27.6139, 13.9093) -> (29.2747, 13.9093)
  line L5 (29.2747, 13.9093) -> (29.2747, 21.0264)
  point P0 (0, 0)
  point P1 (13.8599, 14.7128)
  point P2 (13.8237, 14.0101)
  point P3 (14.8237, 10.4516)
  dimension "d29" = 1
extrude "Extrusion4" [suppressed]
sketch "Sketch9" plane through (-13.4496, -35, 0) normal (0, -1, 0) x (1, 0, 0)
  circle A0 centre (13.3624, 16.5) radius 5
  line L0 (0, 33) -> (26.7249, 33)
  line L1 (0, 0) -> (0, 29) projected
  line L2 (26.7249, 0) -> (26.7249, 29) projected
  line L3 (0, 0) -> (26.7249, 0) projected
  point P0 (13.4496, 0)
  dimension "d34" = 16.5
  dimension "d35" = 13.3624
  dimension "d36" = 26.7249
  dimension "d37" = 10
  dimension "d44" = 33
extrude "Extrusion5" cut sketch "Sketch9" against normal up to surface (4 mm away)
ref_plane "Work Plane1" through (16.0697, 19.1511, 29) normal (-1, 0, 0) x (0, 0, -1)
sketch "Sketch11" plane through (0, 0, 33) normal (0, 0, 1) x (1, 0, 0)
  point P0 (0, 0)
fillet "Fillet3" radius 6 14 edges at (20.9324, 17.8349, 31) (20.9324, 17.8349, 2) (25.9117, 9.2105, 31) (25.9117, 9.2105, 2) (25.9097, -9.2162, 2) (21.6274, -18.2524, 2) (-25.9134, 9.2058, 31) (-25.9134, 9.2058, 2) (-20.9369, 17.8296, 2) (-20.9369, 17.8296, 31) (-25.9114, -9.2114, 31) (-21.6672, -18.2658, 31) (25.9097, -9.2162, 31) (21.6274, -18.2524, 31)
equation "\"d35\" = 0.5 * d36"
properties part number "pulleyblocker"
